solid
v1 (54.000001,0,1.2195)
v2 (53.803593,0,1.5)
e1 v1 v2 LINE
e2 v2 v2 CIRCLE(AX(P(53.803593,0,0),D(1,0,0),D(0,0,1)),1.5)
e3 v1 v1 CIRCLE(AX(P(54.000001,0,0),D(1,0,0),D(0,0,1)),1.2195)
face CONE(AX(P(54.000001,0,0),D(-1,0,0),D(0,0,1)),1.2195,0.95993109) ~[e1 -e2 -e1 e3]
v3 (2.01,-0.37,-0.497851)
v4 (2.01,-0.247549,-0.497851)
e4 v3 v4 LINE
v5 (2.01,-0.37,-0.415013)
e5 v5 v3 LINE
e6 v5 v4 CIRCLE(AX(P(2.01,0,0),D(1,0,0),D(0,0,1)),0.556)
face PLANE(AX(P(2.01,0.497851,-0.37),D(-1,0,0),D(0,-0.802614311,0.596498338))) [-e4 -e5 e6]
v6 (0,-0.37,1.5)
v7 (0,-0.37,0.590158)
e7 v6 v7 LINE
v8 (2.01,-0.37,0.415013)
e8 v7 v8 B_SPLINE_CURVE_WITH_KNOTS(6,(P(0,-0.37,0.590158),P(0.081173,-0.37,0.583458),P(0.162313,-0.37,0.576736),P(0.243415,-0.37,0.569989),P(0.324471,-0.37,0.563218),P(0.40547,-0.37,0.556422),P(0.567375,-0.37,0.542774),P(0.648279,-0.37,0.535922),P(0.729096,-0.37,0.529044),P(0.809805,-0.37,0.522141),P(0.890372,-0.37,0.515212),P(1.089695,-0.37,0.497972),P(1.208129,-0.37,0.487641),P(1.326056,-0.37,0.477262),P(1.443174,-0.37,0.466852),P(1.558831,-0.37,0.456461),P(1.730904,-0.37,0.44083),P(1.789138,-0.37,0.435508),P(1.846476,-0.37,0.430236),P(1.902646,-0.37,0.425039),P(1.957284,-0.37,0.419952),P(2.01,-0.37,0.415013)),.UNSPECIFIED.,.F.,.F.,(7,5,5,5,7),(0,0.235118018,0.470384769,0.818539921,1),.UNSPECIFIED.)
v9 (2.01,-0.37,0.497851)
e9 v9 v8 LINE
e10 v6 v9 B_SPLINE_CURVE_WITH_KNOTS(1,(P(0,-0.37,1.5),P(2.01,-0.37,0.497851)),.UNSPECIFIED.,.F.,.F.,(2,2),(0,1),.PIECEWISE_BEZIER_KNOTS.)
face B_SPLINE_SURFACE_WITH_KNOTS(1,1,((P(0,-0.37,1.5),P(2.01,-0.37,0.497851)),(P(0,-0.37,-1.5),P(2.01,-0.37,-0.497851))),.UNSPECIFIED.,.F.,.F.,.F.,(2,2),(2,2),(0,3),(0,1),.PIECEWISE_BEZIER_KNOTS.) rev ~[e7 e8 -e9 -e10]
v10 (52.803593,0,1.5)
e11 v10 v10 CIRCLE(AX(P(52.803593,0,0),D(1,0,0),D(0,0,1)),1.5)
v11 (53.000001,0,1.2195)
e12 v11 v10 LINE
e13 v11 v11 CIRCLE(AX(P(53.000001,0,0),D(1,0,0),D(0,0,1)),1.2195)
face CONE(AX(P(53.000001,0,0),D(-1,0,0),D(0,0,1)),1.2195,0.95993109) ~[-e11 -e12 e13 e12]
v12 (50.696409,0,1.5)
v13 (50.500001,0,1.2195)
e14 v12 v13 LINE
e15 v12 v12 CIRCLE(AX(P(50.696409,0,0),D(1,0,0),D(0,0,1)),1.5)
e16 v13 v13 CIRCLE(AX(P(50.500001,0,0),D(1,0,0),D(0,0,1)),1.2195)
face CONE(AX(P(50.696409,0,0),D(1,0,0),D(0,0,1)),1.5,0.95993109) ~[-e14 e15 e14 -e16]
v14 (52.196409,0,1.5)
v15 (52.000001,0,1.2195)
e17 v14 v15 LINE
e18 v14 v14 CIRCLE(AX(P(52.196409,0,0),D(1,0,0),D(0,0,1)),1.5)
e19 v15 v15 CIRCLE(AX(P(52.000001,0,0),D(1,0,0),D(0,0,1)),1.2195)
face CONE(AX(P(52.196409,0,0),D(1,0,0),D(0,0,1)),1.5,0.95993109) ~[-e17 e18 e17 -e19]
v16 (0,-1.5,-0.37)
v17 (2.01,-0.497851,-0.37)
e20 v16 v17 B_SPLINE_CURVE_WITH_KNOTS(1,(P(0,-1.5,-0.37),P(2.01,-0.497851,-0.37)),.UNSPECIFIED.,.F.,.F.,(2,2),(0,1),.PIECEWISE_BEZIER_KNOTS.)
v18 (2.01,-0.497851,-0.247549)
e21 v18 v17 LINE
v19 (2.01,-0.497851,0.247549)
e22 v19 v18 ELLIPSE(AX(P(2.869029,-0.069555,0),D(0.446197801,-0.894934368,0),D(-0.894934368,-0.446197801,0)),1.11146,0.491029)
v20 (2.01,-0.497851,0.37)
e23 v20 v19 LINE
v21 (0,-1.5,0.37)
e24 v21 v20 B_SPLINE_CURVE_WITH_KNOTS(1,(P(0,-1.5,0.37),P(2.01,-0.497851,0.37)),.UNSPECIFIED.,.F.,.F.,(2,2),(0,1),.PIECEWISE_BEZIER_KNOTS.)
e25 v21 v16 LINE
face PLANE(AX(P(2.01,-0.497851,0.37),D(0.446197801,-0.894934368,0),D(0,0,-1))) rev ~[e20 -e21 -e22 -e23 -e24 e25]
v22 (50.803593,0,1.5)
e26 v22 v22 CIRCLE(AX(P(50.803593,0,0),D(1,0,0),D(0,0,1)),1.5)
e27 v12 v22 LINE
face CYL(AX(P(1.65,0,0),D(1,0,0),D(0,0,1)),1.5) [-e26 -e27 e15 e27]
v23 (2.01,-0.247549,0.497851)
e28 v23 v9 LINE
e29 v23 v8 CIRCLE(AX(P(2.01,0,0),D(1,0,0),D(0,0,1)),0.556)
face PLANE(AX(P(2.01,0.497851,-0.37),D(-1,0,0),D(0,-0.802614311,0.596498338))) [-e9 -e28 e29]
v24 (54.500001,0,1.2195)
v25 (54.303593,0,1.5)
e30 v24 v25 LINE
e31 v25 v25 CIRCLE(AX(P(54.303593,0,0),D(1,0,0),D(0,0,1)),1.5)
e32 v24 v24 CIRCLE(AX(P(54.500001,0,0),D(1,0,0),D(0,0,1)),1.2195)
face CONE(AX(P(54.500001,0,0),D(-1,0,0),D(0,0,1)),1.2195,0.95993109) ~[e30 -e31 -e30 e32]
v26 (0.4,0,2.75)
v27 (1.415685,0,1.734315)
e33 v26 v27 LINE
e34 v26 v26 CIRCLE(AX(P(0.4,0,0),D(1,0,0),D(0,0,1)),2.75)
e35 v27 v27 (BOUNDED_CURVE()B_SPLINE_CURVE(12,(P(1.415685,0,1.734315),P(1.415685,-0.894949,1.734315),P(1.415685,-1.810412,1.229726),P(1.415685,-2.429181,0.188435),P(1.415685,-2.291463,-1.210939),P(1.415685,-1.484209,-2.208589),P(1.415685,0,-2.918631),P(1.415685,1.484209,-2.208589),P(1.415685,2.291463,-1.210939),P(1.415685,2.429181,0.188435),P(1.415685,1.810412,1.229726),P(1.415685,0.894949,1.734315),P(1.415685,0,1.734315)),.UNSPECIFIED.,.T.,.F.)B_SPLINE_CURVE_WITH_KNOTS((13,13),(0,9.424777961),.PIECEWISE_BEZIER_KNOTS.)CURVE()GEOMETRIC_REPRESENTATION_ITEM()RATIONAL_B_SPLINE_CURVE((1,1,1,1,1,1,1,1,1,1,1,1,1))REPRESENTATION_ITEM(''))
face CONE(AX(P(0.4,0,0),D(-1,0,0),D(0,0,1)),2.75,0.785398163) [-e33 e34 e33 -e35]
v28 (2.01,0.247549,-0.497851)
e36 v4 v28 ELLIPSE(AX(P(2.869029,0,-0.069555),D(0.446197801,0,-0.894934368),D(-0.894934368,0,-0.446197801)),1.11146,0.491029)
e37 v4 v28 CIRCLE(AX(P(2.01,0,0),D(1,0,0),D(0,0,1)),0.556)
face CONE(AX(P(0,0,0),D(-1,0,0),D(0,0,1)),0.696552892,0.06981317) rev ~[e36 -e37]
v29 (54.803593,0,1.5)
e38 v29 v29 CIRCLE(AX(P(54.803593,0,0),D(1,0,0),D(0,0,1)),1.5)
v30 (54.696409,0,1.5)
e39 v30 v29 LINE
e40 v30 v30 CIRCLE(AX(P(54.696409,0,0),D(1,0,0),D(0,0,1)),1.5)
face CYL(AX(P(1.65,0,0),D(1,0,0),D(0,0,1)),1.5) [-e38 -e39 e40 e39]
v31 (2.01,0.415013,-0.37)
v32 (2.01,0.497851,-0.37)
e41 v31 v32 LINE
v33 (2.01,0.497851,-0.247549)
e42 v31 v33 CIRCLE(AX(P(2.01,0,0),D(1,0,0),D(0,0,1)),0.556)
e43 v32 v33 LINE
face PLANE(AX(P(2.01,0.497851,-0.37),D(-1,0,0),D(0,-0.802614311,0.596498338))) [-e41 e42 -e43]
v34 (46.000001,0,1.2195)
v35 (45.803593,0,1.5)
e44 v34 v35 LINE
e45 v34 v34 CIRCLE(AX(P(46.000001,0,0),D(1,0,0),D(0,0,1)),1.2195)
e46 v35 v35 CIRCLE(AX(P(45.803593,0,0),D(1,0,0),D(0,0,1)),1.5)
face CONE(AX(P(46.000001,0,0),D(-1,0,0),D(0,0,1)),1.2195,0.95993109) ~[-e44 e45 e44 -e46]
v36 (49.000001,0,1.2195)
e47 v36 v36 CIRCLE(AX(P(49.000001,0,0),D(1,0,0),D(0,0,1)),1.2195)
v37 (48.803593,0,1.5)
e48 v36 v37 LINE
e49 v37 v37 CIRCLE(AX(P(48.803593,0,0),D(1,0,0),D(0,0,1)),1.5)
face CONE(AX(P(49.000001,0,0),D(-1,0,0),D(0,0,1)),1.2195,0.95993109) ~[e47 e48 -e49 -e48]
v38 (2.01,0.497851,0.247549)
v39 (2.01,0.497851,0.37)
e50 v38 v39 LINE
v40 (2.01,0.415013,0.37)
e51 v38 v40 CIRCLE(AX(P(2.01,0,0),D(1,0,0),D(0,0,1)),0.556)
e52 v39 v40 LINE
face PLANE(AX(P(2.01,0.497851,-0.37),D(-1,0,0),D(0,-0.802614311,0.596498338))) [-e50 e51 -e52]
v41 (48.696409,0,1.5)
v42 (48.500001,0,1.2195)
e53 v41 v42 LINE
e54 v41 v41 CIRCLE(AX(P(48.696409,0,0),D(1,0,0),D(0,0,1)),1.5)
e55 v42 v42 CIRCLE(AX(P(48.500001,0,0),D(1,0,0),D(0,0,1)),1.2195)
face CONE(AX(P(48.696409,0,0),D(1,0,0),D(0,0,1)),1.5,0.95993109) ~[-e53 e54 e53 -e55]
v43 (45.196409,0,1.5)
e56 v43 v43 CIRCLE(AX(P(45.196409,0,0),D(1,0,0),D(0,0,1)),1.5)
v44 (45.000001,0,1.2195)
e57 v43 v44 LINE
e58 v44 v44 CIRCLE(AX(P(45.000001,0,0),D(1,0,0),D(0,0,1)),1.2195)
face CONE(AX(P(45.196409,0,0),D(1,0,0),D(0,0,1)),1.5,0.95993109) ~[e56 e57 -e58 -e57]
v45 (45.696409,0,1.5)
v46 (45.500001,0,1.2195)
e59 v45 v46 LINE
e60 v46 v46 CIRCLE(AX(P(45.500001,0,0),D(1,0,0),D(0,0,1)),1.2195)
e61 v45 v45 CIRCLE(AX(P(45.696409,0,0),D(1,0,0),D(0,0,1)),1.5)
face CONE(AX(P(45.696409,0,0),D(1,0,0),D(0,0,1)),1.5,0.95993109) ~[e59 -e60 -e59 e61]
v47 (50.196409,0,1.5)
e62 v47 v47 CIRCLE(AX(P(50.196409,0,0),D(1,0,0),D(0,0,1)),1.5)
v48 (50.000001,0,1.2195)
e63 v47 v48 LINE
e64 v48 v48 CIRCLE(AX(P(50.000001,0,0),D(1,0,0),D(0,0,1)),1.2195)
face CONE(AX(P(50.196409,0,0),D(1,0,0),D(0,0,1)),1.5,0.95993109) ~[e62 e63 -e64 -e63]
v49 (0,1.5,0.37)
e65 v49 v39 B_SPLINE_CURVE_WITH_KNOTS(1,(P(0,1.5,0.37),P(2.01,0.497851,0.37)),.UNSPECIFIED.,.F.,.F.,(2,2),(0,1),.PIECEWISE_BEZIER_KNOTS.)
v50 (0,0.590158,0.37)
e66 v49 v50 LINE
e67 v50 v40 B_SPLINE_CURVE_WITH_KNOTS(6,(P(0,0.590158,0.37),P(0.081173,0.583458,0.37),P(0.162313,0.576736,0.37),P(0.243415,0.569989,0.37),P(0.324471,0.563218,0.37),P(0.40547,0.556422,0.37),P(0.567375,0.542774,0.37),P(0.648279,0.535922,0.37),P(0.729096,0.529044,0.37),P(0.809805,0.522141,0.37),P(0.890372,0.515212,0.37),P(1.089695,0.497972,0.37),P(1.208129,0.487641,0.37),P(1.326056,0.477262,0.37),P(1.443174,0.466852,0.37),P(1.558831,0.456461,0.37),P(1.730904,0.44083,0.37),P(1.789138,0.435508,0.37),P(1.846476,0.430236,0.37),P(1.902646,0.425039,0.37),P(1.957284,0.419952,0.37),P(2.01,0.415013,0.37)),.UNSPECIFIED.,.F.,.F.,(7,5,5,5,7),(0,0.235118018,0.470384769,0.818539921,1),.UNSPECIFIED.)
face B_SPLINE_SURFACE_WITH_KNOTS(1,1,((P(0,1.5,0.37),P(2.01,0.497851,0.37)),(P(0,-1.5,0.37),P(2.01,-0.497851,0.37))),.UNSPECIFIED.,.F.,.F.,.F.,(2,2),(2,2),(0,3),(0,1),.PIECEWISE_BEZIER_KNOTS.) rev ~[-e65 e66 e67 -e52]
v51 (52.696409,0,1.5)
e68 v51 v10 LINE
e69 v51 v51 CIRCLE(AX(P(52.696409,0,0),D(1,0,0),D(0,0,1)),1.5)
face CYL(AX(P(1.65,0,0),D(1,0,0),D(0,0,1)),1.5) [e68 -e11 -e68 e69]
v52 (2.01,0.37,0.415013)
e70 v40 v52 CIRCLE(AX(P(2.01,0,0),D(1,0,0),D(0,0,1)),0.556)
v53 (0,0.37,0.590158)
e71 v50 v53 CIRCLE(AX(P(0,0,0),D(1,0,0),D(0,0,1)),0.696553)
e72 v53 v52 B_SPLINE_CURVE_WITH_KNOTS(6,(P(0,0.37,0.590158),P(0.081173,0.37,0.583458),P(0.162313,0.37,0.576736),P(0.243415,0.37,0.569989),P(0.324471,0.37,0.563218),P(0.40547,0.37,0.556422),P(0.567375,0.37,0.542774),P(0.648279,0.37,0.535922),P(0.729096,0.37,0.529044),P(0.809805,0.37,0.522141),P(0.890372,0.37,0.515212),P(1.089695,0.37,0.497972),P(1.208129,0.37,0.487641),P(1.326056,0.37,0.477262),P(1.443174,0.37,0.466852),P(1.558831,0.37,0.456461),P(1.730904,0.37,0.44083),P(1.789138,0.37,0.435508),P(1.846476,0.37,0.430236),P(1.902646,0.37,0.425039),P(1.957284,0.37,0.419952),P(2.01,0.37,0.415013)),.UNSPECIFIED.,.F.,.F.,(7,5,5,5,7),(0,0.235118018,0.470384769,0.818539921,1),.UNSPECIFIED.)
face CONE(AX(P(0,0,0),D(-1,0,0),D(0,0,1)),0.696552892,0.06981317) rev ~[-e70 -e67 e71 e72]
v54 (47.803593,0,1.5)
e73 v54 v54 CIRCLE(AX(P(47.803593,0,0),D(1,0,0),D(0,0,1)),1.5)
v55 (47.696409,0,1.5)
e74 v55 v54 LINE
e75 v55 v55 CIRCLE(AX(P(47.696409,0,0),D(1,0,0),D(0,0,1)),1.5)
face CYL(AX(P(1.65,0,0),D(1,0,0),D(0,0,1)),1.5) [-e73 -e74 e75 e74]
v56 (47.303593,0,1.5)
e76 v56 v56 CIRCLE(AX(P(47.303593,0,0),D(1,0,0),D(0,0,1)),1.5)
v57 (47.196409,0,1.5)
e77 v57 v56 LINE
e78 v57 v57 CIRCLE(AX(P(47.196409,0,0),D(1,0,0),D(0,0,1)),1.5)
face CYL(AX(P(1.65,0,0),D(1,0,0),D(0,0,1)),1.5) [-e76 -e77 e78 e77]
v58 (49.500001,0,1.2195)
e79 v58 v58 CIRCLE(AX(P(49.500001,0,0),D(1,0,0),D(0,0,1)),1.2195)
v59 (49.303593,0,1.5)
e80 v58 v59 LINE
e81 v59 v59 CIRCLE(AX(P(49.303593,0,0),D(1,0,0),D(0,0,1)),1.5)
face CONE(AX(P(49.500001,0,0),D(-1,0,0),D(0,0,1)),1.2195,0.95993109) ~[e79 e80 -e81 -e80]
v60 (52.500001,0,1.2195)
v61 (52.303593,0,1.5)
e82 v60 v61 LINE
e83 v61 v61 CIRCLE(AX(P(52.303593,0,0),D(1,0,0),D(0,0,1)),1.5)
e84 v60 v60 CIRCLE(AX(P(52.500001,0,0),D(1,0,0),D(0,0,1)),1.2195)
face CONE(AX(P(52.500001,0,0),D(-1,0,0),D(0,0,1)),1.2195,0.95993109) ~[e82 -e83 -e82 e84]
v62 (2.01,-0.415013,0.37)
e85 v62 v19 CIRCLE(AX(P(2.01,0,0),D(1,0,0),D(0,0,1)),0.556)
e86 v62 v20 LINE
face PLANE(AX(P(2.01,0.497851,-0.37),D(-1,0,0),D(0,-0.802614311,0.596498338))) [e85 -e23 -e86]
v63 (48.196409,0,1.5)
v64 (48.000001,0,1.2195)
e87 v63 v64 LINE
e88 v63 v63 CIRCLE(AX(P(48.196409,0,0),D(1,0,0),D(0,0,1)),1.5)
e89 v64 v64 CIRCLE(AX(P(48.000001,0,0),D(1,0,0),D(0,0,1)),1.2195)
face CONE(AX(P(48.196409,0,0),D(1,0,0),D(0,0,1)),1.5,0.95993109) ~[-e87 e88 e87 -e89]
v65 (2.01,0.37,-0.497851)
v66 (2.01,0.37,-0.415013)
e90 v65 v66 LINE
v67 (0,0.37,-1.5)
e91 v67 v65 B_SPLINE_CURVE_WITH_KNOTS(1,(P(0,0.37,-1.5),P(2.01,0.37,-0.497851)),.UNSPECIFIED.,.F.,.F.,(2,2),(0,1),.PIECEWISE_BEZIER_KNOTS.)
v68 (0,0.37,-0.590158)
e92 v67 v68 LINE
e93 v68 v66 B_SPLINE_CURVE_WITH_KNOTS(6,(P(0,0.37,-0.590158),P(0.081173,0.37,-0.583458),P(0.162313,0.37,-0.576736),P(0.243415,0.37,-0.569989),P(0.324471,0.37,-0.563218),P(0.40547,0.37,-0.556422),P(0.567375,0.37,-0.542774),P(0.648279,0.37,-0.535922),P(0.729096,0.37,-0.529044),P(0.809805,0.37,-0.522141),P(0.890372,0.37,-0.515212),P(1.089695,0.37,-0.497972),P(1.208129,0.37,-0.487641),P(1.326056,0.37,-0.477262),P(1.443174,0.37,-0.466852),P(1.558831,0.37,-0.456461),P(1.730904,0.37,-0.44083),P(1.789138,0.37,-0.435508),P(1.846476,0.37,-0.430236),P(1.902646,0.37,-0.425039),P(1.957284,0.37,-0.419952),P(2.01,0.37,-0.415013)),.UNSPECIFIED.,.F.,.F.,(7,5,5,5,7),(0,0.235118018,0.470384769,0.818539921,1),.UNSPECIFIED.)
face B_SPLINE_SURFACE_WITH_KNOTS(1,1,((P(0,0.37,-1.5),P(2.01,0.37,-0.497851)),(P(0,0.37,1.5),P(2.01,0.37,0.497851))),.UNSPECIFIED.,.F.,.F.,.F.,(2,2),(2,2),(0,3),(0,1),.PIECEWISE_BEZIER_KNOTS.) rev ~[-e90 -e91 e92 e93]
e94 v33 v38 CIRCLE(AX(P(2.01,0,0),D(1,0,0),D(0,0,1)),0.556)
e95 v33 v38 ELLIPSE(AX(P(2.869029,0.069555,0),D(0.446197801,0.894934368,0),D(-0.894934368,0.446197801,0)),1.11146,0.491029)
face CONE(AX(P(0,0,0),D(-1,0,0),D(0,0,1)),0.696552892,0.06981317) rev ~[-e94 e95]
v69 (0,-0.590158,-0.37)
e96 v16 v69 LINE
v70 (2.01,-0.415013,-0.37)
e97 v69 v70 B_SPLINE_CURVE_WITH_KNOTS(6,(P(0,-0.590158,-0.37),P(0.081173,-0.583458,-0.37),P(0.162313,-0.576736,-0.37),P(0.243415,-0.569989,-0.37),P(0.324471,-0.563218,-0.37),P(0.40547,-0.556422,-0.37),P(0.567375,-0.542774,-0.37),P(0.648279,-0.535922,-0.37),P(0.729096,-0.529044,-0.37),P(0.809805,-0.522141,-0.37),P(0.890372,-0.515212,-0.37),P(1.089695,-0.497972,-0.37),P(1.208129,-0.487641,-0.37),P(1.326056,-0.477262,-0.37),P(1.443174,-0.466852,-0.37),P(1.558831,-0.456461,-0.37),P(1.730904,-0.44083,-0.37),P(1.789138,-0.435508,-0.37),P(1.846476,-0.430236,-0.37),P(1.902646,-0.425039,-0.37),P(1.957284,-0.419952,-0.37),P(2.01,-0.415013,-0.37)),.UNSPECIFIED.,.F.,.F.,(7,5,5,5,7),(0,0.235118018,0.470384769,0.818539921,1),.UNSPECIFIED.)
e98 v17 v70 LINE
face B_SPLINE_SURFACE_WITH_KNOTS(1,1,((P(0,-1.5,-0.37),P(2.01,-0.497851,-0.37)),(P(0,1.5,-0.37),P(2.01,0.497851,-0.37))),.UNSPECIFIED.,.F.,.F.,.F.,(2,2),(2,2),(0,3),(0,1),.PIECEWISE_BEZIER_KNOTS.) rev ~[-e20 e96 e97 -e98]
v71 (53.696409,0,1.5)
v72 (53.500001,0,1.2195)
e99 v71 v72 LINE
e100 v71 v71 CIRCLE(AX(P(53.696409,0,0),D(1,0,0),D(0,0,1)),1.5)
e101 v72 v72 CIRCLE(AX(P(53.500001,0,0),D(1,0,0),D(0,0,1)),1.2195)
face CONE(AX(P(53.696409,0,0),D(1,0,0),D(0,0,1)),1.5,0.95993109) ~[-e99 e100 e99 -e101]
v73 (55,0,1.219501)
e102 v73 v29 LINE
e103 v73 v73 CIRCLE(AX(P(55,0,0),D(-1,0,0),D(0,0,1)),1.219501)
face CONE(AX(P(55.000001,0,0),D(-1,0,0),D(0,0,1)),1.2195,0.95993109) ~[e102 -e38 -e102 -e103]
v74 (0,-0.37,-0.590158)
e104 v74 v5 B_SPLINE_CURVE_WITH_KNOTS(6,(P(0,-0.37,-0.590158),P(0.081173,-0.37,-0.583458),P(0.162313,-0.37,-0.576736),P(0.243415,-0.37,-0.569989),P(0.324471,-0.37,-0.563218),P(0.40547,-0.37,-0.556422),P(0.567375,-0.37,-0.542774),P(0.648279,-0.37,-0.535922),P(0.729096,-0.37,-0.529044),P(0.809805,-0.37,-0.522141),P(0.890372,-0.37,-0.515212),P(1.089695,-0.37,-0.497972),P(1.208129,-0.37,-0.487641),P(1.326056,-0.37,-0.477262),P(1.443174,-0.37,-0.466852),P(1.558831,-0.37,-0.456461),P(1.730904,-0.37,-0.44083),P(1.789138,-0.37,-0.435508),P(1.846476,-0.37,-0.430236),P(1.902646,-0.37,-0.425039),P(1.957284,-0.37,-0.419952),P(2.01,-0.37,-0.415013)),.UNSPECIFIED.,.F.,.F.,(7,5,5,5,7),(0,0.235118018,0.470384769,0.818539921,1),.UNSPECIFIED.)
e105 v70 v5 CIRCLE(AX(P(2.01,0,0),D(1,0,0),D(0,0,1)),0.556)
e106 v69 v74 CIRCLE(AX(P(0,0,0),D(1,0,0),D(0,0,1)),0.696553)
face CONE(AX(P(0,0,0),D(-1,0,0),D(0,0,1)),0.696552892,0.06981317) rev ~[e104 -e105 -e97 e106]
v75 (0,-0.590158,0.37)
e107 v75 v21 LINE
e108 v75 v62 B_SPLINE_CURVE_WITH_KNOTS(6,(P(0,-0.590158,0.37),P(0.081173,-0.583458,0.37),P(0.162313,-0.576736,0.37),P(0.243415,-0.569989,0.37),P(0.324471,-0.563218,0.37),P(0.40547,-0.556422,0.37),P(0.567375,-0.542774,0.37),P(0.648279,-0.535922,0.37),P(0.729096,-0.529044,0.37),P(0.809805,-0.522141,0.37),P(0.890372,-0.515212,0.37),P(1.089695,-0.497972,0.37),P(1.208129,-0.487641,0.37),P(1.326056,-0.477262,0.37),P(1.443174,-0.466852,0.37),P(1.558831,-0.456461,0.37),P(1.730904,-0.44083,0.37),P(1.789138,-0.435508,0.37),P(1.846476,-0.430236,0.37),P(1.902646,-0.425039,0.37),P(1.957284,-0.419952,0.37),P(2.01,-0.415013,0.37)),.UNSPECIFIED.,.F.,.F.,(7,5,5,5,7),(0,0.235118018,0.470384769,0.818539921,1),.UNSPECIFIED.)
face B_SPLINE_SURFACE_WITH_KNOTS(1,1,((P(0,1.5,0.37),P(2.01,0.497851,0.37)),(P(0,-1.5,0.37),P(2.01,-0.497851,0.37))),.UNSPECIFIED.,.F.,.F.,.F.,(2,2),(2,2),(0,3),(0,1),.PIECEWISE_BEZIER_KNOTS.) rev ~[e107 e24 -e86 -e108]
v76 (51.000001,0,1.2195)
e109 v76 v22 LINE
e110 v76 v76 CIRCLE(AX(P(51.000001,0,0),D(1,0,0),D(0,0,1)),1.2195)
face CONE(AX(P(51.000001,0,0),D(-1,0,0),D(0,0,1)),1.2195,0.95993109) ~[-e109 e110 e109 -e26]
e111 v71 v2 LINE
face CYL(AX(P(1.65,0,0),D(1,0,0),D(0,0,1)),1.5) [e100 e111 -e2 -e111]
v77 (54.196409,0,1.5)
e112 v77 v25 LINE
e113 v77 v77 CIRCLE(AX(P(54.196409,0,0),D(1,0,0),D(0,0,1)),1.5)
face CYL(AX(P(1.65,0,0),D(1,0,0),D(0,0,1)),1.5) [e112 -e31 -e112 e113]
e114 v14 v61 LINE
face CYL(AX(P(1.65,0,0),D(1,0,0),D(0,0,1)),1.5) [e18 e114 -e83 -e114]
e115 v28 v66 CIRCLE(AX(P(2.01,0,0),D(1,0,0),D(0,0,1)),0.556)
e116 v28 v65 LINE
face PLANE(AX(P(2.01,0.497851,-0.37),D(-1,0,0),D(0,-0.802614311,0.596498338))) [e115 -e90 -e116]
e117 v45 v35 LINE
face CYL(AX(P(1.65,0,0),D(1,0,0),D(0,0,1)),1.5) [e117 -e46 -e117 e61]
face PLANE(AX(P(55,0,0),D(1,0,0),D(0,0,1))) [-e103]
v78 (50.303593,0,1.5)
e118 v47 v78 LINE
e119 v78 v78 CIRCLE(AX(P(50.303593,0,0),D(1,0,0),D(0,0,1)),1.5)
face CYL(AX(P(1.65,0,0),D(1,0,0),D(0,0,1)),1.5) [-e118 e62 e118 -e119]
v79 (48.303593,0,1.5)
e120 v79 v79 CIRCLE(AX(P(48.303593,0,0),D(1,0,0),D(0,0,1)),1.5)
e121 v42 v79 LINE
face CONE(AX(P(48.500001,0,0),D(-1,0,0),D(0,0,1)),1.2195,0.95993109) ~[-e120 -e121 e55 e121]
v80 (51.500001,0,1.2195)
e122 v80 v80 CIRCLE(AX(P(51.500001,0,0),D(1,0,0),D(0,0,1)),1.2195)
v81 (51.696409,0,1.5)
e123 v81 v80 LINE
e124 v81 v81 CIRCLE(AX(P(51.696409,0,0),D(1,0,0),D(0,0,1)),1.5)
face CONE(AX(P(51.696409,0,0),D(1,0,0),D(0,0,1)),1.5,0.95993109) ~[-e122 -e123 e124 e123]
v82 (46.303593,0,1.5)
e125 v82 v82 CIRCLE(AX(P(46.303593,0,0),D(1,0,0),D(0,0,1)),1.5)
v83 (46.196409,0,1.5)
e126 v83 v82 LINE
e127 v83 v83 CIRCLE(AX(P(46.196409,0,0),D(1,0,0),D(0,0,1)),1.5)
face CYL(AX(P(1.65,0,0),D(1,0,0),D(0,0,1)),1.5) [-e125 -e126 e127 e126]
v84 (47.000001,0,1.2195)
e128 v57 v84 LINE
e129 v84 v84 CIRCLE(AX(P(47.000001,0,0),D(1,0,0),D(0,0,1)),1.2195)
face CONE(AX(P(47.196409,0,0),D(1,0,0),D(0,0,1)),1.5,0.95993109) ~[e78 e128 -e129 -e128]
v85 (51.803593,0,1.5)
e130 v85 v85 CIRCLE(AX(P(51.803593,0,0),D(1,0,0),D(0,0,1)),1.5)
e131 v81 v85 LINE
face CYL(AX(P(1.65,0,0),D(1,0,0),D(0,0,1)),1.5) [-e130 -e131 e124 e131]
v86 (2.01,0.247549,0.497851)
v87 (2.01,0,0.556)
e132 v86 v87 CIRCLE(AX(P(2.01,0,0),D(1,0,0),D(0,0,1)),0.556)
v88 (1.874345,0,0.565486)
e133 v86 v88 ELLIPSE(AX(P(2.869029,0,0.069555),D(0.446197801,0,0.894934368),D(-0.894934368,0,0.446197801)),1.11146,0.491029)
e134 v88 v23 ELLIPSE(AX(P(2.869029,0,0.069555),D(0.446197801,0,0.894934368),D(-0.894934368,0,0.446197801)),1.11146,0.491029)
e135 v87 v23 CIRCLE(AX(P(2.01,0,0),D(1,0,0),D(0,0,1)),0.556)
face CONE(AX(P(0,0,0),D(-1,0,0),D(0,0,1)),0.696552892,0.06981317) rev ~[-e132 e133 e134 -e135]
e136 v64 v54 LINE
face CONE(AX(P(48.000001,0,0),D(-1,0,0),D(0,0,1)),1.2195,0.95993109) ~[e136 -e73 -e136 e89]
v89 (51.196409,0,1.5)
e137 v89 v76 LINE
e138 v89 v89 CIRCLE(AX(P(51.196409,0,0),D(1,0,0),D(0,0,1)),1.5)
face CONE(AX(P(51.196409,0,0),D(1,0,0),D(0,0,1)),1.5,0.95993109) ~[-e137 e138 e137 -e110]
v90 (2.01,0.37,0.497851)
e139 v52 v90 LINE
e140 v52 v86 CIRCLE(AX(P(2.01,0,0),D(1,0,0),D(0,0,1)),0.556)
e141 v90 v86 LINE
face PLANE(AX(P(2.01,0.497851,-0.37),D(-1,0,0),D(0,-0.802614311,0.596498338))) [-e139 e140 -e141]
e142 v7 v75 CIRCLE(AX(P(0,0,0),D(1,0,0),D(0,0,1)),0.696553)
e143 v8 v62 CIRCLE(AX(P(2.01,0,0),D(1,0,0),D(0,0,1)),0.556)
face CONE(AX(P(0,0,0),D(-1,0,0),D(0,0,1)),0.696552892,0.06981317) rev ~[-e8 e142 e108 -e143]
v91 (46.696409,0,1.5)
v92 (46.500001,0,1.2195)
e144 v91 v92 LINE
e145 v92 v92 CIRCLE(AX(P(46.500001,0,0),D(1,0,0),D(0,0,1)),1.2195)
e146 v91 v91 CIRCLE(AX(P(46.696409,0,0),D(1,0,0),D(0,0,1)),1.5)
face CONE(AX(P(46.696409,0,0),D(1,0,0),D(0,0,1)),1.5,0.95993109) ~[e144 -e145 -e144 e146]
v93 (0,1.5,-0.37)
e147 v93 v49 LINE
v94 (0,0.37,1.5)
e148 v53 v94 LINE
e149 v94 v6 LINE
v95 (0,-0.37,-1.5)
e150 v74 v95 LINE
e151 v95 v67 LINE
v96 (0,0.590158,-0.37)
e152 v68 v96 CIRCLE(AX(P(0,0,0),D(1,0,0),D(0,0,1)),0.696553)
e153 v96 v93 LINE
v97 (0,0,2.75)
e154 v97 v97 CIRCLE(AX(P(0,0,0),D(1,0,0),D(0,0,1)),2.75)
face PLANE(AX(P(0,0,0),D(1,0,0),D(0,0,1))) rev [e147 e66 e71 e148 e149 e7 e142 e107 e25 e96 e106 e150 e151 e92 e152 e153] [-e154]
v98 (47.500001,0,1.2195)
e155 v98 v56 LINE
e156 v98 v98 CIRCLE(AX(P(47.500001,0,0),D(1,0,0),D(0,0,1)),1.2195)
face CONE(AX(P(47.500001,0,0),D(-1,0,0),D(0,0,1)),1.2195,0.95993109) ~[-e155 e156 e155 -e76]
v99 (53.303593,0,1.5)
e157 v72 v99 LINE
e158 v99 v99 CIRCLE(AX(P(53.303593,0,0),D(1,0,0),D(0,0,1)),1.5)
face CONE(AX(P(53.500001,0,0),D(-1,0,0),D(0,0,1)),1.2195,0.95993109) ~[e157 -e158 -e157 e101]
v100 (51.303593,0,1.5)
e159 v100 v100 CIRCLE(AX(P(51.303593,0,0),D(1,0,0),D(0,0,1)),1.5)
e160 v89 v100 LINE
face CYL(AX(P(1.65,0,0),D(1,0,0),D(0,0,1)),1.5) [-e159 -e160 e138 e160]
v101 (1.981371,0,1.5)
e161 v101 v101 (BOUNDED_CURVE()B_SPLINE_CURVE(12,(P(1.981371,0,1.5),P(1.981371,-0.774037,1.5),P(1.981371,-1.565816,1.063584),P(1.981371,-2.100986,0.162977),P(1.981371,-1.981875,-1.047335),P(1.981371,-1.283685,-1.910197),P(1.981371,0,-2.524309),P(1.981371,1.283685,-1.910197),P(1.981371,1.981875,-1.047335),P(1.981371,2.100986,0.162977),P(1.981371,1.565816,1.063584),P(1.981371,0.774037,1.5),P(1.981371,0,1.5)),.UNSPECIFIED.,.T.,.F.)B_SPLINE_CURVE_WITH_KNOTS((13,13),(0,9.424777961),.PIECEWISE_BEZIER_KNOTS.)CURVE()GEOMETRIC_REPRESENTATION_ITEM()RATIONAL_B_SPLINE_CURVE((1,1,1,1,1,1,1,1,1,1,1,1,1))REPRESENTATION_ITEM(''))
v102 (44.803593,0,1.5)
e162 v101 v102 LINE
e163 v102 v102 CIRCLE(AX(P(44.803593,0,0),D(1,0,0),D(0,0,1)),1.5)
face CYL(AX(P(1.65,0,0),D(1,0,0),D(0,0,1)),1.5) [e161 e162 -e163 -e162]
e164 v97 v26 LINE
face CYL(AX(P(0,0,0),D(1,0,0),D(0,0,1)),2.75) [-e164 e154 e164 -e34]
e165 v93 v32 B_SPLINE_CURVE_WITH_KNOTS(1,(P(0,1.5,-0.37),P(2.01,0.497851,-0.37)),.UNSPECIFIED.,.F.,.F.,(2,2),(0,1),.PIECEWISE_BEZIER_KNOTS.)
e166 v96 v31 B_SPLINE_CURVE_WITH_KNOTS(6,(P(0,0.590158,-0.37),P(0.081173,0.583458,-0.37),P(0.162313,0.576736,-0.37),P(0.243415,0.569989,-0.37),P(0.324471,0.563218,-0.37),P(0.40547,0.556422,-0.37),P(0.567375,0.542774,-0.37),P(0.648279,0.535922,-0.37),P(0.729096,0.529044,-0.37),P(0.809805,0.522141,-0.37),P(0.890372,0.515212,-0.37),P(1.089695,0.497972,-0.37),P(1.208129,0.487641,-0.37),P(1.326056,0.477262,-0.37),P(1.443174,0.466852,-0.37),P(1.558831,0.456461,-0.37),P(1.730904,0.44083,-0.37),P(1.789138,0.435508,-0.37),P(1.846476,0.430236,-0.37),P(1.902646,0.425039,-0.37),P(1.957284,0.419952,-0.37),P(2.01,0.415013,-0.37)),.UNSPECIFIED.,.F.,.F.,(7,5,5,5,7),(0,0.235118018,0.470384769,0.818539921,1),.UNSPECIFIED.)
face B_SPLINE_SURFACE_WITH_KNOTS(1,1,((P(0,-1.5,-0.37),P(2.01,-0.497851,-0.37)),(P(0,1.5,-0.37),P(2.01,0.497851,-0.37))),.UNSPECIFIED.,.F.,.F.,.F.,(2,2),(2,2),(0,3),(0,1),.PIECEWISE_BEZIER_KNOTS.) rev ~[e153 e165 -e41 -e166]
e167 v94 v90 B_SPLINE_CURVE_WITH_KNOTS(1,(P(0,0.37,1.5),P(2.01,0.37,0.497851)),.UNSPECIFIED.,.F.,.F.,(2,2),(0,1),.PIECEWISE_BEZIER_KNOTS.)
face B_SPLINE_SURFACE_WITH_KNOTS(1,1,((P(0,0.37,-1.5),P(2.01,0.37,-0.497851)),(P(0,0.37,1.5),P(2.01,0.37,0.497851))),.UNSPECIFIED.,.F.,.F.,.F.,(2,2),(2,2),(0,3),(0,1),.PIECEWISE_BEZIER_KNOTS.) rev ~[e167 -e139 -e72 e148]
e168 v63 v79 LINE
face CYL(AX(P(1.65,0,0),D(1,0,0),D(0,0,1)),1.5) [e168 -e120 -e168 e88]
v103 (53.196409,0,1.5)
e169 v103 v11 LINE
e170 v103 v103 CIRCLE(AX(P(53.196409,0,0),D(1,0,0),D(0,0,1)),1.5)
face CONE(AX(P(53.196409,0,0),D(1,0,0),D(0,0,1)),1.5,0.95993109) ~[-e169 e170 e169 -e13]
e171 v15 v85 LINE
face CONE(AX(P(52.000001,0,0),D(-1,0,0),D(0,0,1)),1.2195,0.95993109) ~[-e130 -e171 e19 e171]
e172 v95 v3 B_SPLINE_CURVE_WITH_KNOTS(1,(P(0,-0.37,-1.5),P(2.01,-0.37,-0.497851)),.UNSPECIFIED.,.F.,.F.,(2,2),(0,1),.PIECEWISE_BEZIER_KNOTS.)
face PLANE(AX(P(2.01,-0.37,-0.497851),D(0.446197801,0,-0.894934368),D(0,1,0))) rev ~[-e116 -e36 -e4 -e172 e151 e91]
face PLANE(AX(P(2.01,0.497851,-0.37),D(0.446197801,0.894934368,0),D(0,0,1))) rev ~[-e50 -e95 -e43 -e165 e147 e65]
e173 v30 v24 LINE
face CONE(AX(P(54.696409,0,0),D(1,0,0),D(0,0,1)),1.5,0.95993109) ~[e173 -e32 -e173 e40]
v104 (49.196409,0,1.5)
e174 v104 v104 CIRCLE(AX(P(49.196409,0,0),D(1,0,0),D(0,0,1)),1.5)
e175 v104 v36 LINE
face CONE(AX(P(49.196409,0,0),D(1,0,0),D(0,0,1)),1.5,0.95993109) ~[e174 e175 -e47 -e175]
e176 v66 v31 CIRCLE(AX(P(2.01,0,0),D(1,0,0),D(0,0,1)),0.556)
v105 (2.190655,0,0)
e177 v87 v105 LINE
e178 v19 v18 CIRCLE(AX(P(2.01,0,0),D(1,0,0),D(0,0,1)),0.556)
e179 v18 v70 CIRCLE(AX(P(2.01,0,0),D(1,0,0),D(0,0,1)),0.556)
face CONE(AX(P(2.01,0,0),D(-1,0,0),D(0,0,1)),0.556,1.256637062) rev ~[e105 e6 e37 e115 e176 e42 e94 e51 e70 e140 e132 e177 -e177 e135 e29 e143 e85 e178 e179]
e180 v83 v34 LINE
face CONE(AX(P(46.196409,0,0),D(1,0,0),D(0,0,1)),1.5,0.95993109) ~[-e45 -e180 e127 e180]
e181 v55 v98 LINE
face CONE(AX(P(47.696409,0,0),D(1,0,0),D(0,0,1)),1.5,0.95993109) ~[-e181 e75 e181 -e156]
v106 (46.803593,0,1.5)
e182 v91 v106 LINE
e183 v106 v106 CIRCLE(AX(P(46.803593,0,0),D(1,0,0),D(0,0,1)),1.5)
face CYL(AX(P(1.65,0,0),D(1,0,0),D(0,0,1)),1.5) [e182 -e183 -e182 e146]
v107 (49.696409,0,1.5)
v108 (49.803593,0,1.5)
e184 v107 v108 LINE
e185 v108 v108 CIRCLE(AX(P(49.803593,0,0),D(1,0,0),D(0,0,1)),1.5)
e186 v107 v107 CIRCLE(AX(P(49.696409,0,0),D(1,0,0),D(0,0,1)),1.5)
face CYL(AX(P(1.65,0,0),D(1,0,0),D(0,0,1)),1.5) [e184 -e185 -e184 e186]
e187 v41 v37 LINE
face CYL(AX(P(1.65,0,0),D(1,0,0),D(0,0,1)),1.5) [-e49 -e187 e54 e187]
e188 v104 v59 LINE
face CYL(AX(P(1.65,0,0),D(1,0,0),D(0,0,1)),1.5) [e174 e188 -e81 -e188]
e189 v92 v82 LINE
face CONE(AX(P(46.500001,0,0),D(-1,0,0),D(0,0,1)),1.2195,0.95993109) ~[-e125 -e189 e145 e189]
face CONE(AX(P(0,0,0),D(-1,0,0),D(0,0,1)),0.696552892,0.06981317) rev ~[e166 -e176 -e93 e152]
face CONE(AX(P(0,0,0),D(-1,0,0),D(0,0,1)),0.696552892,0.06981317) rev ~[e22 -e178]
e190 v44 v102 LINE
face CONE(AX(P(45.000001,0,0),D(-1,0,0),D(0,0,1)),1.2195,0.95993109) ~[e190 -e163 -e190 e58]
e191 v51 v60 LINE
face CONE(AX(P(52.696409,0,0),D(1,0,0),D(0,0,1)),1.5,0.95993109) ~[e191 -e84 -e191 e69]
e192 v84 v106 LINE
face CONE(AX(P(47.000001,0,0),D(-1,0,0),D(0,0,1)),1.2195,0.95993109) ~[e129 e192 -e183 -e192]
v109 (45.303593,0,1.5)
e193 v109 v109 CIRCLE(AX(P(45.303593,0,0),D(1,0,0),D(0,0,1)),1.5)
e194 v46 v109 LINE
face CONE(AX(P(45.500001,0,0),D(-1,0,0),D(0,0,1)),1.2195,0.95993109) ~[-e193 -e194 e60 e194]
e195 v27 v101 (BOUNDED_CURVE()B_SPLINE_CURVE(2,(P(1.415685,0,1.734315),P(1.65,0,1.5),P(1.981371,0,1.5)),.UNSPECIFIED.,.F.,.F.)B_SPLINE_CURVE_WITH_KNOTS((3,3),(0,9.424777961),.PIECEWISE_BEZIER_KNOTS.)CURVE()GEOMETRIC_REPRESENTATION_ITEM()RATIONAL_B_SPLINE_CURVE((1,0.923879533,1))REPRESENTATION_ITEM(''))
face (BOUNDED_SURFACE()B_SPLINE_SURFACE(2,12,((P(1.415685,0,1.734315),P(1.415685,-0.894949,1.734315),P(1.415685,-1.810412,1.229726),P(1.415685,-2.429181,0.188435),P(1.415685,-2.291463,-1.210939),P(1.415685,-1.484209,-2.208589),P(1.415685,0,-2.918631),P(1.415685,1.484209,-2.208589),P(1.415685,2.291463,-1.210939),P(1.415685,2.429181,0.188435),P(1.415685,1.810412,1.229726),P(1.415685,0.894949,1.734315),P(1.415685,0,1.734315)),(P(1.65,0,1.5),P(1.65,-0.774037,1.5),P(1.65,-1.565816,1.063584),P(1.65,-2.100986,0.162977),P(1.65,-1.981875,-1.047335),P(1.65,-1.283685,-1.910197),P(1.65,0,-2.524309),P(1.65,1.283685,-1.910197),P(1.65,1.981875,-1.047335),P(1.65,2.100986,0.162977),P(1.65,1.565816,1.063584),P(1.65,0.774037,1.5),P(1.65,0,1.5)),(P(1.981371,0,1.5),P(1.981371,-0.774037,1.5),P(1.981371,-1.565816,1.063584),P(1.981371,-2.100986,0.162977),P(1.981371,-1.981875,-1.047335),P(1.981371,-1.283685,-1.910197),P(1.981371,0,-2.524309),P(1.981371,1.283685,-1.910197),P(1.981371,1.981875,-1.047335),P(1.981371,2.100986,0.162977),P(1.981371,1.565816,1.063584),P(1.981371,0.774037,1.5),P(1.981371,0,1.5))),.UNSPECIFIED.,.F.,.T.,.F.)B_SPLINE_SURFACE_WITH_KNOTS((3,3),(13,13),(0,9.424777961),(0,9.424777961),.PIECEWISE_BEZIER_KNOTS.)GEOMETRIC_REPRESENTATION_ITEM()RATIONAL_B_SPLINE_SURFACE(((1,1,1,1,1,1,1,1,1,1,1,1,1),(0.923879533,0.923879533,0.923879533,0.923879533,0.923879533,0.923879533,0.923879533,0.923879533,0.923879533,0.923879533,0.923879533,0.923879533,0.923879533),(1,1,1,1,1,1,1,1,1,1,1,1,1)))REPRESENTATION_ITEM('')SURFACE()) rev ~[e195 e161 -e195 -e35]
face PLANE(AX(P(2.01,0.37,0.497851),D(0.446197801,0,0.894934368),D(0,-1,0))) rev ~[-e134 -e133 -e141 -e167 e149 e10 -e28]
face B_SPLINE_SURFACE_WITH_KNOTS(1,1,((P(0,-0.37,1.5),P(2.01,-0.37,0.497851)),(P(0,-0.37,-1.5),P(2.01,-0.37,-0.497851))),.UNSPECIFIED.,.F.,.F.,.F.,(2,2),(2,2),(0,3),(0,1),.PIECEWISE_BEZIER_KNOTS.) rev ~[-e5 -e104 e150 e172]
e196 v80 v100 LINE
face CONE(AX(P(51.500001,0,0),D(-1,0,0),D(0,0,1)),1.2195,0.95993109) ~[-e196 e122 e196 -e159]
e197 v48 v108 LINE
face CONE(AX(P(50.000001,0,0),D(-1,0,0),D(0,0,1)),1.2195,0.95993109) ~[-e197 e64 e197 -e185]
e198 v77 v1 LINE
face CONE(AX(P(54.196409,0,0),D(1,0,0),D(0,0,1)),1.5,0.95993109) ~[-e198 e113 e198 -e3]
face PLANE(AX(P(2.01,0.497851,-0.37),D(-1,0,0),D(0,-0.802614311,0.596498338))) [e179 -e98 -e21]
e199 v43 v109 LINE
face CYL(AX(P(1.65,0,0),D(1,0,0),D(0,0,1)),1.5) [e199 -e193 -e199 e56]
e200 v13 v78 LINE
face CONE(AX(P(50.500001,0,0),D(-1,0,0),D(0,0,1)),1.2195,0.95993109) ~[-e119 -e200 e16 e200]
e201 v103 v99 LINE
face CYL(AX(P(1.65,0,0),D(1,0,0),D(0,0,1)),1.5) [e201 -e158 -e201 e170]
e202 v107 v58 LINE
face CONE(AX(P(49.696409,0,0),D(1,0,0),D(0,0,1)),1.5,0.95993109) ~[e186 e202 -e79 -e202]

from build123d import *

# Parameters (mm, degrees)
FILLET1_R       = 0.8
RECPAT_COUNT    = 2
RECPAT_ANGLE    = 90
THDSCHPAT_COUNT = 21
THDSCHPAT_PITCH = 0.5


with BuildPart() as part:
    # BodySke → Base-Revolve (revolve)
    with BuildSketch(Plane.XY, mode=Mode.PRIVATE) as base_revolve_sk:
        Polygon((0, 0), (0, 2.75), (0.4, 2.75), (1.65, 1.5), (55, 1.5), (55, 0), align=None)
    revolve(base_revolve_sk.sketch.rotate(Axis((-6.35, 0, 0), (1, 0, 0)), 90), axis=Axis((-6.35, 0, 0), (1, 0, 0)))

    # Fillet1
    fillet1_edges = [part.edges().sort_by_distance(p)[0] for p in [
        (1.65, 0, -1.5),
    ]]
    fillet(fillet1_edges, radius=FILLET1_R)

    # Sketch3 → Recess section 0
    with BuildSketch(Plane.ZY):
        with BuildLine():
            Line((-0.37, 1.5), (0.37, 1.5))
            Line((0.37, 1.5), (0.37, -1.5))
            Line((0.37, -1.5), (-0.37, -1.5))
            Line((-0.37, -1.5), (-0.37, 1.5))
        make_face()
    # Sketch4 → Recess section 1
    with BuildSketch(Plane.ZY.offset(-2.01)):
        with BuildLine():
            Line((-0.37, 0.497851002), (0.37, 0.497851002))
            Line((0.37, 0.497851002), (0.37, -0.497851002))
            Line((0.37, -0.497851002), (-0.37, -0.497851002))
            Line((-0.37, -0.497851002), (-0.37, 0.497851002))
        make_face()
    recess = loft(mode=Mode.SUBTRACT)

    # RecPat: Recess ×2 about axis
    recpat_axis = Axis((0, 0, 0), (1, 0, 0))
    for i in range(1, RECPAT_COUNT):
        add(recess.rotate(recpat_axis, i * RECPAT_ANGLE / (RECPAT_COUNT - 1)), mode=Mode.SUBTRACT)

    # RecCorSke → RecessCore (revolve, cut)
    with BuildSketch(Plane.XY, mode=Mode.PRIVATE) as recesscore_sk:
        Polygon((0, 0), (0, 0.696552892), (2.01, 0.556), (2.190655351, 0), align=None)
    revolve(recesscore_sk.sketch.rotate(Axis((-3.175, 0, 0), (1, 0, 0)), 90), axis=Axis((-3.175, 0, 0), (1, 0, 0)), mode=Mode.SUBTRACT)

    # ThdSchSke → ThreadSchematic (revolve, cut)
    with BuildSketch(Plane.XY, mode=Mode.PRIVATE) as threadschematic_sk:
        Polygon((45.000001, -1.2195), (44.803592786, -1.5), (44.803592786, -1.875), (45.196409214, -1.875), (45.196409214, -1.5), align=None)
    threadschematic = revolve(threadschematic_sk.sketch.rotate(Axis((-3.175, 0, 0), (1, 0, 0)), 270), axis=Axis((-3.175, 0, 0), (1, 0, 0)), mode=Mode.SUBTRACT)

    # ThdSchPat: ThreadSchematic ×21
    with Locations(*[(i * THDSCHPAT_PITCH, 0, 0) for i in range(1, THDSCHPAT_COUNT)]):
        add(threadschematic, mode=Mode.SUBTRACT)


solid = part.part
